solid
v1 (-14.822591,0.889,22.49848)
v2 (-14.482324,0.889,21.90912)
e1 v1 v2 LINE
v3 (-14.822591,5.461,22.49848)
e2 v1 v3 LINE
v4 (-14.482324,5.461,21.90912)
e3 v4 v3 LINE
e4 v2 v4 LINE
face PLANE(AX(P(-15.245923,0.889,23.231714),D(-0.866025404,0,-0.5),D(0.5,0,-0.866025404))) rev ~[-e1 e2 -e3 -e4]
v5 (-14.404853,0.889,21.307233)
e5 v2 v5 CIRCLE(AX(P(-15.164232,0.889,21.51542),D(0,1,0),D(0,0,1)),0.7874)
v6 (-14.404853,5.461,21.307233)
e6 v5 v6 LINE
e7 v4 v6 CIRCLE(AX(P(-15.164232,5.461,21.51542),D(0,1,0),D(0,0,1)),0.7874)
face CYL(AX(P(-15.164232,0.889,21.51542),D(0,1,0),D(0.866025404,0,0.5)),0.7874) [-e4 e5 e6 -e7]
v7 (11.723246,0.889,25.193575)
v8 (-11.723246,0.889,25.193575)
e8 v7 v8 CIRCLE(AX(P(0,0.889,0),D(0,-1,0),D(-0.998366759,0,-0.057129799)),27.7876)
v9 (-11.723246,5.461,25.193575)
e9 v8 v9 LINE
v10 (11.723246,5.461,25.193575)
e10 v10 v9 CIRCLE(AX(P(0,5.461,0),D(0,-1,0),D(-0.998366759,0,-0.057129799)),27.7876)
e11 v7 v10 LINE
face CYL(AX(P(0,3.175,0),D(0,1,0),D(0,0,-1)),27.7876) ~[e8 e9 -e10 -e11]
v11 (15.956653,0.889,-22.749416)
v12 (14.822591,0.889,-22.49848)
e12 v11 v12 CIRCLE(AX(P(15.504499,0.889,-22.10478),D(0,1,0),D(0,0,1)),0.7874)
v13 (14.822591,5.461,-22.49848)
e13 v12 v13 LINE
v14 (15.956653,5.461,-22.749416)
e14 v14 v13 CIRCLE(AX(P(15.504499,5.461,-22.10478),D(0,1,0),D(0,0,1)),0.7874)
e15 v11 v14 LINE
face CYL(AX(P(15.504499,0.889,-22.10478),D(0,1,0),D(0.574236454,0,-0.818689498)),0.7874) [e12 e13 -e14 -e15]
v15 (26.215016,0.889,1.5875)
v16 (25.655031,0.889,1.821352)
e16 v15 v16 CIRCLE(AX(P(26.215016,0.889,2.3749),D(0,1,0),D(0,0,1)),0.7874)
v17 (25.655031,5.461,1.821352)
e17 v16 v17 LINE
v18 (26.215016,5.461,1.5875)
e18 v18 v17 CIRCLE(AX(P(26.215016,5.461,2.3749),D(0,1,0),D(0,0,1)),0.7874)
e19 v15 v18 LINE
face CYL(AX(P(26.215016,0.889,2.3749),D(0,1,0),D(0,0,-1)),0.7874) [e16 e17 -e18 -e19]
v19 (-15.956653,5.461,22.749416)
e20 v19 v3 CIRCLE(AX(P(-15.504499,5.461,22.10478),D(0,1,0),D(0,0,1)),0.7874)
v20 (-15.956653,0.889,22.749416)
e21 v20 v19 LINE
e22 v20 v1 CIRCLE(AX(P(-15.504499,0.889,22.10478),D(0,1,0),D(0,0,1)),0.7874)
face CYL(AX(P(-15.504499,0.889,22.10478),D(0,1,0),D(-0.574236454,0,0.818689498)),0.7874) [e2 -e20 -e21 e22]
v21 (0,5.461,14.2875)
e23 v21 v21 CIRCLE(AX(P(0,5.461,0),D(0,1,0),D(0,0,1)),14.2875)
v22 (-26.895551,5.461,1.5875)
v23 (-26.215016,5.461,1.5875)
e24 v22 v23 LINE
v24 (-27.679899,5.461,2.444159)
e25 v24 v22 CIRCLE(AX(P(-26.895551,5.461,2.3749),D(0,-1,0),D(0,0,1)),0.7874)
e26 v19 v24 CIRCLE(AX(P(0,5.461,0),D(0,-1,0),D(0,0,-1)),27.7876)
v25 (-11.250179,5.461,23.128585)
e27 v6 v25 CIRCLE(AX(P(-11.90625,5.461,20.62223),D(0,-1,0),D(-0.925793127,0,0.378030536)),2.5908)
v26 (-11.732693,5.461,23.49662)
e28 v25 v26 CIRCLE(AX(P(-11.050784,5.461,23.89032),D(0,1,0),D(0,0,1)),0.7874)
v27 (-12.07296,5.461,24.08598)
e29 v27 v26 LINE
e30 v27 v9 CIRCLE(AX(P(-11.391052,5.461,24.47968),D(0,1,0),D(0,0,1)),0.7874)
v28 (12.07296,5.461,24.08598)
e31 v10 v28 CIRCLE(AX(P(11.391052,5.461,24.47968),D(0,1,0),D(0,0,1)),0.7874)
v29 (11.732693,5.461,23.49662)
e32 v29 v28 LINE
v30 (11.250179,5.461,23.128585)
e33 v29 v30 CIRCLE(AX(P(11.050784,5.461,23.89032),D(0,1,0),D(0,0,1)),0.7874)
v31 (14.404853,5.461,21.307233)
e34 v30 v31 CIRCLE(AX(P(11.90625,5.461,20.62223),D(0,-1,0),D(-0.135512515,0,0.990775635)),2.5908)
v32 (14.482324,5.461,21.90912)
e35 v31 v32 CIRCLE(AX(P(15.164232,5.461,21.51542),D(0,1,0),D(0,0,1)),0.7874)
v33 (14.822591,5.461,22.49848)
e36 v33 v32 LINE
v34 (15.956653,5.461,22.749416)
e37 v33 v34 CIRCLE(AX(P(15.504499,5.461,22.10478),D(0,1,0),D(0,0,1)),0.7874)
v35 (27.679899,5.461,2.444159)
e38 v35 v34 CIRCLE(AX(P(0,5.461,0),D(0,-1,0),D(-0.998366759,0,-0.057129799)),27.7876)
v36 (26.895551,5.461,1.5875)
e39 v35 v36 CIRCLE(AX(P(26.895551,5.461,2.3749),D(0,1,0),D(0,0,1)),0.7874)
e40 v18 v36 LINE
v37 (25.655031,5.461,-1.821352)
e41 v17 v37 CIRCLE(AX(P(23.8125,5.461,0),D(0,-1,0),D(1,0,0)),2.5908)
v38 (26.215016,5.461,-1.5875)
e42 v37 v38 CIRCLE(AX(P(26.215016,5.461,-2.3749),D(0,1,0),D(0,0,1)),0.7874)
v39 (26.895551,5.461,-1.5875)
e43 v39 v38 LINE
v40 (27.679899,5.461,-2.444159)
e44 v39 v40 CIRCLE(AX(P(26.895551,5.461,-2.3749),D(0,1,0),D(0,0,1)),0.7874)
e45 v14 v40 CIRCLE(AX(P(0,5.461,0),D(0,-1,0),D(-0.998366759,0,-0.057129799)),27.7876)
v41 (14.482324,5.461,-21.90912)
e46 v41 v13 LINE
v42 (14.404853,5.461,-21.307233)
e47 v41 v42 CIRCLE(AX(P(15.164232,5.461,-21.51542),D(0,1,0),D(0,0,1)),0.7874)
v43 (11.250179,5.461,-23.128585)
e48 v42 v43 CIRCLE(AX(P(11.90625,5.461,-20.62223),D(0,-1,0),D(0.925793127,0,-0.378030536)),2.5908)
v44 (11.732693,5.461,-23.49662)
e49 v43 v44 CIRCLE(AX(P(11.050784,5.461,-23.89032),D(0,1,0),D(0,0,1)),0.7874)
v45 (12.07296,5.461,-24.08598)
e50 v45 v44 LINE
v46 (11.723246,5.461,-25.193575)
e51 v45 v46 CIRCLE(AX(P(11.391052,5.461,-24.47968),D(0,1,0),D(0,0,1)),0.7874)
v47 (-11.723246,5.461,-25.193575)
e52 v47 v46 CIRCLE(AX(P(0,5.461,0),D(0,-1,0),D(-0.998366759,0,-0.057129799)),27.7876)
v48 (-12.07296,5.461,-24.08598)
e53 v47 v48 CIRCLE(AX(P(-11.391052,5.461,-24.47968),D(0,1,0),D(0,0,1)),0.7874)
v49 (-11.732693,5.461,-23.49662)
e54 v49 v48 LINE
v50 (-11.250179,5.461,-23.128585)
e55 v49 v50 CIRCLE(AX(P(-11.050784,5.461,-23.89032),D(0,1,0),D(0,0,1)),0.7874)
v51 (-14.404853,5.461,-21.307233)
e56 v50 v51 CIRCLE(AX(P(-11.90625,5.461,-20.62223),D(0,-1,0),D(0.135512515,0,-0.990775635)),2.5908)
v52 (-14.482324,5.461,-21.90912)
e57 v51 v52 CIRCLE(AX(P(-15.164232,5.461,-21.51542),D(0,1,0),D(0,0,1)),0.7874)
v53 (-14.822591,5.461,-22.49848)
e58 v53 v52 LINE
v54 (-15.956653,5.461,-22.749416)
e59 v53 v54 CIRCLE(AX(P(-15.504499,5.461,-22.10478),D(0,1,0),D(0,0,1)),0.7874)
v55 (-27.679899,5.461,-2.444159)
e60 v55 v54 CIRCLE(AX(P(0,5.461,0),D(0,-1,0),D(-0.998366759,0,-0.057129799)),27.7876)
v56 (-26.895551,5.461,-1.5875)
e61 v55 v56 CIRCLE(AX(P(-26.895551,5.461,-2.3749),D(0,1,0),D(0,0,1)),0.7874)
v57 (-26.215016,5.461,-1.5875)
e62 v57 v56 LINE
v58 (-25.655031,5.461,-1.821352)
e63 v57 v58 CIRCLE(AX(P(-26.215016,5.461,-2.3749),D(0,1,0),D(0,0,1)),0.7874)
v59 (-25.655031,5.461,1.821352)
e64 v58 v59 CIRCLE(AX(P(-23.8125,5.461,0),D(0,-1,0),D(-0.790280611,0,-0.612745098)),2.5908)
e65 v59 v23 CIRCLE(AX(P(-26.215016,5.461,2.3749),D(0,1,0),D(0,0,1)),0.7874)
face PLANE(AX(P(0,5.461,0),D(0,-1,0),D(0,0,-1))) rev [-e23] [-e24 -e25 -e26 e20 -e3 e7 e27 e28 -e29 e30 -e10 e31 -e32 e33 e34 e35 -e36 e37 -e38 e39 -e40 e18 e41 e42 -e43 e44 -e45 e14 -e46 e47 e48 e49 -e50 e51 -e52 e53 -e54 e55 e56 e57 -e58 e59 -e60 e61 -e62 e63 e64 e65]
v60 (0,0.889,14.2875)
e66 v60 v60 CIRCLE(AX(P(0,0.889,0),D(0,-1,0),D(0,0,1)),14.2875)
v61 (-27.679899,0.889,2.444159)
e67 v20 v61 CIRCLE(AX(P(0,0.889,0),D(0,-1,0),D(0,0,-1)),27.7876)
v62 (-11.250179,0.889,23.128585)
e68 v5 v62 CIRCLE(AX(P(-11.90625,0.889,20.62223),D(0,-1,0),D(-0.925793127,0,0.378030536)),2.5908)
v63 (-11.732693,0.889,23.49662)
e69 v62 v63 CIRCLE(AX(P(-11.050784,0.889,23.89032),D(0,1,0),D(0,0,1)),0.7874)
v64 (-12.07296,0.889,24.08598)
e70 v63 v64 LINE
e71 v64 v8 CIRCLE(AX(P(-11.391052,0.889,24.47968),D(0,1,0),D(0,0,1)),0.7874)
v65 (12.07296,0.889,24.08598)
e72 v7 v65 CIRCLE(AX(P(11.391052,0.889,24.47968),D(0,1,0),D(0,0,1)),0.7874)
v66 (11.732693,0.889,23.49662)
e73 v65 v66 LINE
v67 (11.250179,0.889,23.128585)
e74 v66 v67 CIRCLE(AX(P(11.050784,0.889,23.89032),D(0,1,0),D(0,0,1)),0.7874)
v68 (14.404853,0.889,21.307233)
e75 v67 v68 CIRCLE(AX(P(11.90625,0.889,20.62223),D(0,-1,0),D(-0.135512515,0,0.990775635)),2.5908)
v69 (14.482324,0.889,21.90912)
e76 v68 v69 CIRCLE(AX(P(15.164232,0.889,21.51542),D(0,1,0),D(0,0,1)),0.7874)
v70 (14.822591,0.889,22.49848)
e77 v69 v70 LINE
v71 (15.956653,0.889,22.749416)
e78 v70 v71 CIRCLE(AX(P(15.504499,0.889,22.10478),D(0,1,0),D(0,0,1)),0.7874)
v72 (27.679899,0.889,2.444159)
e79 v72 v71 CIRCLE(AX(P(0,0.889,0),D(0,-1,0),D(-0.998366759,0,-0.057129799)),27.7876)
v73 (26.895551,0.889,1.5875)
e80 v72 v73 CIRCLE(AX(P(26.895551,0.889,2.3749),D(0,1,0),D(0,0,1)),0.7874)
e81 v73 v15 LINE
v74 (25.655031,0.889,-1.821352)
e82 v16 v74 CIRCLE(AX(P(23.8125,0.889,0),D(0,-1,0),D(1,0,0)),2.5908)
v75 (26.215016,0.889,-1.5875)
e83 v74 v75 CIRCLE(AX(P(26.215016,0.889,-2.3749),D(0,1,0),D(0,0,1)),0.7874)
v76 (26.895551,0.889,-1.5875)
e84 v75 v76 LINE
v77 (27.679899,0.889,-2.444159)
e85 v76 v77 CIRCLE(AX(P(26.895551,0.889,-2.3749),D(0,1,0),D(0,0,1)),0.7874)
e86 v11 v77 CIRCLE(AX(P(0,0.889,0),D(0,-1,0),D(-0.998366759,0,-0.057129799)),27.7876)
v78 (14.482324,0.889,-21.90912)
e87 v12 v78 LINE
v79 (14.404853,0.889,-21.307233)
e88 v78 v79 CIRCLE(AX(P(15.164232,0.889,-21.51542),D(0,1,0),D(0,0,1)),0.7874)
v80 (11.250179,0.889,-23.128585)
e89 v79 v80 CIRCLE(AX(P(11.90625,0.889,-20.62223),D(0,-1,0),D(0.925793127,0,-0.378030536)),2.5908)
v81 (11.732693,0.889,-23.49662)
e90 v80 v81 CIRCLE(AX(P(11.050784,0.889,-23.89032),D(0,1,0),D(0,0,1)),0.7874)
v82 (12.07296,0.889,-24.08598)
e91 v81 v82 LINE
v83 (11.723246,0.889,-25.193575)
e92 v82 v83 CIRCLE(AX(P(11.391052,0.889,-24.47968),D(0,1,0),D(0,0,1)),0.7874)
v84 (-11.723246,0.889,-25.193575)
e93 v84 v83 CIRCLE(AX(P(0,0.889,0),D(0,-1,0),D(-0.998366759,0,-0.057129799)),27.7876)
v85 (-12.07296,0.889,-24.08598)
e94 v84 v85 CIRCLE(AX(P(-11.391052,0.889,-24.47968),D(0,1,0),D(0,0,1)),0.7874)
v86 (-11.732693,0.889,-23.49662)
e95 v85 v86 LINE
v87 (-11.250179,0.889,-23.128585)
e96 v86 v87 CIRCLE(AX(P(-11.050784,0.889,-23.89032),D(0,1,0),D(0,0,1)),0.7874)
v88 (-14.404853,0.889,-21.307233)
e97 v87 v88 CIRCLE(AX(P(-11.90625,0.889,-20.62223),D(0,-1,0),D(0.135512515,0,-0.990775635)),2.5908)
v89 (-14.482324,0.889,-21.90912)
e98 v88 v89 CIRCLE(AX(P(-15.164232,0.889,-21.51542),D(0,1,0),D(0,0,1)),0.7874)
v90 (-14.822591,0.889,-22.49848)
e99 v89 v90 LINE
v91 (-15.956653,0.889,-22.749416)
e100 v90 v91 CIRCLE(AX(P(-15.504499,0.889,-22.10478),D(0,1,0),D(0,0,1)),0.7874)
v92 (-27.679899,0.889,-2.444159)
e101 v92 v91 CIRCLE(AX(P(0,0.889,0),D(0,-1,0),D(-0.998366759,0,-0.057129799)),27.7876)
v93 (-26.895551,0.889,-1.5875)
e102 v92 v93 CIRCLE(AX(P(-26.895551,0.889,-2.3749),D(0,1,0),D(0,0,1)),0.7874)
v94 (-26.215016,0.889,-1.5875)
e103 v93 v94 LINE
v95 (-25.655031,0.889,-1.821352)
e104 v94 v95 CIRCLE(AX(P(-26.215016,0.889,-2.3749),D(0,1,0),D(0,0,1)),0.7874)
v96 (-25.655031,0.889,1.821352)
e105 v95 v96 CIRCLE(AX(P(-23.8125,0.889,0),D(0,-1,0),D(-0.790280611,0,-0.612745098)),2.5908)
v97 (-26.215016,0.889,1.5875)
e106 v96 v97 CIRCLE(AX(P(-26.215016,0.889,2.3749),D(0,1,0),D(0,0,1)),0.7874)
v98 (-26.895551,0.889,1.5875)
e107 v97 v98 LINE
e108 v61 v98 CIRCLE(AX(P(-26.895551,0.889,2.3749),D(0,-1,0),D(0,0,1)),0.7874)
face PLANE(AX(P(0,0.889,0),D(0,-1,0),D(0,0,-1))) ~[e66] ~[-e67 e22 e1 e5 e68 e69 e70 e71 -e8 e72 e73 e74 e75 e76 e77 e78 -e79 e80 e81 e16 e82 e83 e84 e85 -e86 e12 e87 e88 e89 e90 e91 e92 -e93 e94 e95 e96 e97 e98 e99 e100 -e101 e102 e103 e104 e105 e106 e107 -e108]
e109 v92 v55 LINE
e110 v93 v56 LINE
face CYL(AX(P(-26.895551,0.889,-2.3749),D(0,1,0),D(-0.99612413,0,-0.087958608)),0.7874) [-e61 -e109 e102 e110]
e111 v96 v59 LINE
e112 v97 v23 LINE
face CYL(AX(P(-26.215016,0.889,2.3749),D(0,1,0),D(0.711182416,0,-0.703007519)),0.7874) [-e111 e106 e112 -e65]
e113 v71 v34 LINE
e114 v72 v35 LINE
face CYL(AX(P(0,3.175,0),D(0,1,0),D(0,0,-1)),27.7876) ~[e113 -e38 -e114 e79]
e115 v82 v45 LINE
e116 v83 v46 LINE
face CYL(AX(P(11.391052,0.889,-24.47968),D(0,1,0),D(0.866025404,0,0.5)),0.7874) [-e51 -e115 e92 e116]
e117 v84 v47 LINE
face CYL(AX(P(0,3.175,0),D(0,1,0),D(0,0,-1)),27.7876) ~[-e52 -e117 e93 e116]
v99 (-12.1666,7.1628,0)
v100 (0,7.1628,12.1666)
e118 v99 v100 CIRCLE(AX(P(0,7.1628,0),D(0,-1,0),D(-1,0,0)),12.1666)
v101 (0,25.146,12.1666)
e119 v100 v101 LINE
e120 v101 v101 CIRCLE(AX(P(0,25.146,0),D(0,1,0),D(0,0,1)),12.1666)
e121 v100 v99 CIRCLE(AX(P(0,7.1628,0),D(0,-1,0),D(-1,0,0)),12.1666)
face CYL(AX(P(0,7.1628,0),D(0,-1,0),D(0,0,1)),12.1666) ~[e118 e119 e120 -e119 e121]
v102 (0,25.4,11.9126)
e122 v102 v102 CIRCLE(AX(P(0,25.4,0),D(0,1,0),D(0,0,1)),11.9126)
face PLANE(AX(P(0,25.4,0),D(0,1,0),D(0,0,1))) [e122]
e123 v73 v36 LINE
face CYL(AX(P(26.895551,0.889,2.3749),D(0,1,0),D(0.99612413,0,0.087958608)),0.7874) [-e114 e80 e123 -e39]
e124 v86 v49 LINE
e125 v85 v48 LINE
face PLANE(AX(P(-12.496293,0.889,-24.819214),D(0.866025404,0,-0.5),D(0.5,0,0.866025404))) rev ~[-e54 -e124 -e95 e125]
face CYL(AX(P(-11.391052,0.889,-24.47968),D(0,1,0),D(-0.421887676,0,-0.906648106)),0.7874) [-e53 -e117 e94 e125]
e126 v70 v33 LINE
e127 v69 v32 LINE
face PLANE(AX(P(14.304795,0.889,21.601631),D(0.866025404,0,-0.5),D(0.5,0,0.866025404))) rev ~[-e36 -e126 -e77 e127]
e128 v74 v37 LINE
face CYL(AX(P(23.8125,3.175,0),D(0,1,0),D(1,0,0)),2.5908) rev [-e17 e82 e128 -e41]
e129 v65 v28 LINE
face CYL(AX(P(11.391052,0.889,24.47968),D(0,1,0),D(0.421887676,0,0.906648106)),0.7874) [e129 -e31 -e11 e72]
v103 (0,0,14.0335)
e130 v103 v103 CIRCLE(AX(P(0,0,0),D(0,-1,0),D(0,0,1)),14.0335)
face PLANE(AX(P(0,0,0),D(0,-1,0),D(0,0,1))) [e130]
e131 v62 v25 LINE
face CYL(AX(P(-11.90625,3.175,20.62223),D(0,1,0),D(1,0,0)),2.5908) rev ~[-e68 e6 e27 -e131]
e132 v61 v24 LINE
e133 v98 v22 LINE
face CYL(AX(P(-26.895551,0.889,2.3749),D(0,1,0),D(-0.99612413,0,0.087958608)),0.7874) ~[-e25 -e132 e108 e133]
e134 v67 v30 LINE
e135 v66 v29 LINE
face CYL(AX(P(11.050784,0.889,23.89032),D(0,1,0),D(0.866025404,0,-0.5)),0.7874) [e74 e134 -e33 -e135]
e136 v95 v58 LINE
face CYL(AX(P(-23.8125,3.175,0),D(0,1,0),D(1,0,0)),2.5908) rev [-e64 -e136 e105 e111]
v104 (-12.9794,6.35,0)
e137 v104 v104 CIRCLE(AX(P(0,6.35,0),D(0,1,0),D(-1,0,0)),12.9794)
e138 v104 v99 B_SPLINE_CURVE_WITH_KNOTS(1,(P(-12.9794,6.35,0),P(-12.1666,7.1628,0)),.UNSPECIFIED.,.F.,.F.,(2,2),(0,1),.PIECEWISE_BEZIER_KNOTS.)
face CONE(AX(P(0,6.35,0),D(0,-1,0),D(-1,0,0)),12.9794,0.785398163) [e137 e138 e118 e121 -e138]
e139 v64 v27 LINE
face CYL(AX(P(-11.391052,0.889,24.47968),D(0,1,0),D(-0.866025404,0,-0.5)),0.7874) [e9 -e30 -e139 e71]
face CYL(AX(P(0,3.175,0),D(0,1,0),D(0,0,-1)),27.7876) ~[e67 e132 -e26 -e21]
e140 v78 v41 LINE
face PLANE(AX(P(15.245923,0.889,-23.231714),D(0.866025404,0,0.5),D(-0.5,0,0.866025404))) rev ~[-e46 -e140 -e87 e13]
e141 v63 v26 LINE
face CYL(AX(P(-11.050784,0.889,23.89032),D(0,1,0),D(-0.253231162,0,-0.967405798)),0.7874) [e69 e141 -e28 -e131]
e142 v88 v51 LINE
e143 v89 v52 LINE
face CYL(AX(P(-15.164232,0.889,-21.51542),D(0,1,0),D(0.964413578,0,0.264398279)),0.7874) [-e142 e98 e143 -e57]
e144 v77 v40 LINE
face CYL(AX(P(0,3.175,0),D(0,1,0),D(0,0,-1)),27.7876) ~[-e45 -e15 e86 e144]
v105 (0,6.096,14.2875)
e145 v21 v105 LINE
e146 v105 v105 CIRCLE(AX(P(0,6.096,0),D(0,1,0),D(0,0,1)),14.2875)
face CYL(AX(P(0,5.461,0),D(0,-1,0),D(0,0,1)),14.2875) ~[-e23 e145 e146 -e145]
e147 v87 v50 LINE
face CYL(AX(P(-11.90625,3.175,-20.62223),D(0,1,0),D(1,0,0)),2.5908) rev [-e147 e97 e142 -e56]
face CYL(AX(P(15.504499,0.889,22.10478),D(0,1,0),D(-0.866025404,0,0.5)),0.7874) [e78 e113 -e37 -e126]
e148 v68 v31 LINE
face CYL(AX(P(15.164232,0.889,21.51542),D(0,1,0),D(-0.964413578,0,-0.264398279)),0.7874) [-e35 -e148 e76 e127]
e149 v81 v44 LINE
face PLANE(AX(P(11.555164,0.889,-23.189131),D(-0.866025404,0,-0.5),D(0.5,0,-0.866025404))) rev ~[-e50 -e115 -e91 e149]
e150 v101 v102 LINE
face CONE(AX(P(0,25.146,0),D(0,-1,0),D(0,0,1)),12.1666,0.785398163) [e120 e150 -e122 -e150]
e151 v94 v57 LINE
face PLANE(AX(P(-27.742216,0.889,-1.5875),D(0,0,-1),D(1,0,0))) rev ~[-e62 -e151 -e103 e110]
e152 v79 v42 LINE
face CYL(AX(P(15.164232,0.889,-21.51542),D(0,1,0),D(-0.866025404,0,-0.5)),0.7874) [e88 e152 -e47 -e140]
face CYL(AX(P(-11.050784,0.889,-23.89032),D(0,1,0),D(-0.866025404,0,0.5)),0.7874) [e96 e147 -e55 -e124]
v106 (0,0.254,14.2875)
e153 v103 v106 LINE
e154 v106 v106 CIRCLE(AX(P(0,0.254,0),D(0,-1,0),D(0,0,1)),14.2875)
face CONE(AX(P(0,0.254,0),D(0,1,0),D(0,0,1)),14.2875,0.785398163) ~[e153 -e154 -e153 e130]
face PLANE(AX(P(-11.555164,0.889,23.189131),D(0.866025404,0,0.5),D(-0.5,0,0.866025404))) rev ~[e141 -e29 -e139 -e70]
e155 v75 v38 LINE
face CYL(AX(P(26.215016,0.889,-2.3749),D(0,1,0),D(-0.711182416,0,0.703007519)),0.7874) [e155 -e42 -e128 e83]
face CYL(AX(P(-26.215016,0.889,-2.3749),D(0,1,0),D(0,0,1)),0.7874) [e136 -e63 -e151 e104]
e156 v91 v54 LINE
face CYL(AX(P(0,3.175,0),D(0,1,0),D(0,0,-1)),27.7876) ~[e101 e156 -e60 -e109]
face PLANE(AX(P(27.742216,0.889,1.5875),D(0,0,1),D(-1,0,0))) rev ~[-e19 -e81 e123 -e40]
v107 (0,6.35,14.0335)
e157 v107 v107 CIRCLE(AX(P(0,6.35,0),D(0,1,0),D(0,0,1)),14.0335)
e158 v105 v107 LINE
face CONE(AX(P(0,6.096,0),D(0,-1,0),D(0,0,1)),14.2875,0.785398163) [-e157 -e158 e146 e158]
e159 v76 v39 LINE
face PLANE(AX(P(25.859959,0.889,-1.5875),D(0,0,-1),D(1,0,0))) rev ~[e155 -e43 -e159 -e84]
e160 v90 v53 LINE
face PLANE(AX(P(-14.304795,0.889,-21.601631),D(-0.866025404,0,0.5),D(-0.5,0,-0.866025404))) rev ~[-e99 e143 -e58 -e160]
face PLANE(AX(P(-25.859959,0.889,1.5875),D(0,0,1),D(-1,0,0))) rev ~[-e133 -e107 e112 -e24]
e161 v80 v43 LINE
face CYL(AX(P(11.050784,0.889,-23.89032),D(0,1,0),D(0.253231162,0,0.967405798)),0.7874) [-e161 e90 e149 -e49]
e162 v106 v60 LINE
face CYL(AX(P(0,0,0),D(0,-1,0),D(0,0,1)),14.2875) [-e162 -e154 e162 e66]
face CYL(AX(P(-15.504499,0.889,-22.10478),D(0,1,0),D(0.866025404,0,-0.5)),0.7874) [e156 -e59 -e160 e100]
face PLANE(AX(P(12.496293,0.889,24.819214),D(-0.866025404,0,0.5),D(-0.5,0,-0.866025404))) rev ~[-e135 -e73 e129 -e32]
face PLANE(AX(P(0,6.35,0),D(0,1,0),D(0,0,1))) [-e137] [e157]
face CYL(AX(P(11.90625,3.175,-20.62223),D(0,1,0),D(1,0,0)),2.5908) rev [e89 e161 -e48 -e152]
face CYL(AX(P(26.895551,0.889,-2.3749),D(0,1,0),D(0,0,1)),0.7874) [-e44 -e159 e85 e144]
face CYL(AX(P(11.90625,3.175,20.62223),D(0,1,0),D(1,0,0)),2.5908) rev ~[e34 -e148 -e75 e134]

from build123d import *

# Parameters (mm, degrees)
SKETCH1_W           = 27.7876
SKETCH1_H           = 4.572
CUT_EXTRUDE1_DEPTH  = 40.562666891
CUT_EXTRUDE2_DEPTH  = 40.562666891
CUT_EXTRUDE3_DEPTH  = 40.562666891
CUT_EXTRUDE4_DEPTH  = 40.562666891
CUT_EXTRUDE5_DEPTH  = 40.530803878
CUT_EXTRUDE6_DEPTH  = 40.530803878
SKETCH8_R           = 14.2875
BOSS_EXTRUDE1_DEPTH = 0.889
SKETCH9_R           = 12.9794
BOSS_EXTRUDE2_DEPTH = 0.8128
BOSS_EXTRUDE2_TAPER = 45
SKETCH10_R          = 12.1666
BOSS_EXTRUDE3_DEPTH = 18.2372
BOSS_EXTRUDE4_START = 0.889
SKETCH11_R          = 14.2875
BOSS_EXTRUDE4_DEPTH = 0.889
CUT_EXTRUDE7_DEPTH  = 47.764743892
SKETCH13_W          = 2.5908
SKETCH13_H          = 4.572
SKETCH14_W          = 2.5908
SKETCH14_H          = 4.572
SKETCH15_W          = 2.5908
SKETCH15_H          = 4.572
SKETCH16_W          = 2.5908
SKETCH16_H          = 4.572
SKETCH17_W          = 2.5908
SKETCH17_H          = 4.572
SKETCH18_W          = 2.5908
SKETCH18_H          = 4.572
CHAMFER1_SIZE       = 0.254
FILLET1_R           = 0.127
FILLET2_R           = 0.7874
SKETCH19_R          = 9.350419414
BOSS_EXTRUDE7_DEPTH = 25.4


with BuildPart() as part:
    # Sketch1 → Revolve1 (revolve)
    with BuildSketch(Plane.XY, mode=Mode.PRIVATE) as revolve1_sk:
        with Locations((13.8938, 3.175)):
            Rectangle(SKETCH1_W, SKETCH1_H)
    revolve(revolve1_sk.sketch.rotate(Axis((0, 5.461, 0), (0, -1, 0)), 270), axis=Axis((0, 5.461, 0), (0, -1, 0)))

    # Sketch2 → Cut-Extrude1 (cut, through all)
    with BuildSketch(Plane.XZ.offset(-0.889)):
        with BuildLine():
            Line((-27.742216161, -1.5875), (-25.859959008, -1.5875))
            ThreePointArc((-25.859959008, -1.5875), (-26.4033, 0), (-25.859959008, 1.5875))
            Line((-25.859959008, 1.5875), (-27.742216161, 1.5875))
            ThreePointArc((-27.742216161, 1.5875), (-27.7876, 0), (-27.742216161, -1.5875))
        make_face()
    extrude(amount=-CUT_EXTRUDE1_DEPTH, mode=Mode.SUBTRACT)

    # Sketch3 → Cut-Extrude2 (cut, through all)
    with BuildSketch(Plane.XZ.offset(-0.889)):
        with BuildLine():
            Line((-15.245923409, 23.231713952), (-14.304794833, 21.601631442))
            ThreePointArc((-14.304794833, 21.601631442), (-13.20165, 22.865928544), (-11.555164176, 23.189131442))
            Line((-11.555164176, 23.189131442), (-12.496292752, 24.819213952))
            ThreePointArc((-12.496292752, 24.819213952), (-13.8938, 24.06476751), (-15.245923409, 23.231713952))
        make_face()
    extrude(amount=-CUT_EXTRUDE2_DEPTH, mode=Mode.SUBTRACT)

    # Sketch4 → Cut-Extrude3 (cut, through all)
    with BuildSketch(Plane.XZ.offset(-0.889)):
        with BuildLine():
            Line((12.496292752, 24.819213952), (11.555164176, 23.189131442))
            ThreePointArc((11.555164176, 23.189131442), (13.20165, 22.865928544), (14.304794833, 21.601631442))
            Line((14.304794833, 21.601631442), (15.245923409, 23.231713952))
            ThreePointArc((15.245923409, 23.231713952), (13.8938, 24.06476751), (12.496292752, 24.819213952))
        make_face()
    extrude(amount=-CUT_EXTRUDE3_DEPTH, mode=Mode.SUBTRACT)

    # Sketch5 → Cut-Extrude4 (cut, through all)
    with BuildSketch(Plane.XZ.offset(-0.889)):
        with BuildLine():
            Line((27.742216161, 1.5875), (25.859959008, 1.5875))
            ThreePointArc((25.859959008, 1.5875), (26.4033, 0), (25.859959008, -1.5875))
            Line((25.859959008, -1.5875), (27.742216161, -1.5875))
            ThreePointArc((27.742216161, -1.5875), (27.7876, 0), (27.742216161, 1.5875))
        make_face()
    extrude(amount=-CUT_EXTRUDE4_DEPTH, mode=Mode.SUBTRACT)

    # Sketch6 → Cut-Extrude5 (cut, through all)
    with BuildSketch(Plane.XZ.offset(-0.889)):
        with BuildLine():
            Line((15.245923409, -23.231713952), (14.304794833, -21.601631442))
            ThreePointArc((14.304794833, -21.601631442), (13.20165, -22.865928544), (11.555164176, -23.189131442))
            Line((11.555164176, -23.189131442), (12.496292752, -24.819213952))
            ThreePointArc((12.496292752, -24.819213952), (13.8938, -24.06476751), (15.245923409, -23.231713952))
        make_face()
    extrude(amount=-CUT_EXTRUDE5_DEPTH, mode=Mode.SUBTRACT)

    # Sketch7 → Cut-Extrude6 (cut, through all)
    with BuildSketch(Plane.XZ.offset(-0.889)):
        with BuildLine():
            Line((-12.496292752, -24.819213952), (-11.555164176, -23.189131442))
            ThreePointArc((-11.555164176, -23.189131442), (-13.20165, -22.865928544), (-14.304794833, -21.601631442))
            Line((-14.304794833, -21.601631442), (-15.245923409, -23.231713952))
            ThreePointArc((-15.245923409, -23.231713952), (-13.8938, -24.06476751), (-12.496292752, -24.819213952))
        make_face()
    extrude(amount=-CUT_EXTRUDE6_DEPTH, mode=Mode.SUBTRACT)

    # Sketch8 → Boss-Extrude1 (add)
    with BuildSketch(Plane(origin=(0, 5.461, 0), x_dir=(-1, 0, 0), z_dir=(0, 1, 0))):
        with Locations(Location((0, 0, 0), (0, 0, 90))):
            Circle(SKETCH8_R)
    extrude(amount=BOSS_EXTRUDE1_DEPTH)

    # Sketch9 → Boss-Extrude2 (add)
    with BuildSketch(Plane(origin=(0, 6.35, 0), x_dir=(-1, 0, 0), z_dir=(0, 1, 0))):
        Circle(SKETCH9_R)
    extrude(amount=BOSS_EXTRUDE2_DEPTH, taper=BOSS_EXTRUDE2_TAPER)

    # Sketch10 → Boss-Extrude3 (add)
    with BuildSketch(Plane(origin=(0, 7.1628, 0), x_dir=(-1, 0, 0), z_dir=(0, 1, 0))):
        with Locations(Location((0, 0, 0), (0, 0, 90))):
            Circle(SKETCH10_R)
    extrude(amount=BOSS_EXTRUDE3_DEPTH)

    # Sketch11 → Boss-Extrude4 (add)
    with BuildSketch(Plane.XZ.offset(-0.889).offset(BOSS_EXTRUDE4_START)):
        with Locations(Location((0, 0, 0), (0, 0, 90))):
            Circle(SKETCH11_R)
    extrude(amount=-BOSS_EXTRUDE4_DEPTH)

    # Sketch12 → Cut-Extrude7 (cut, through all)
    with BuildSketch(Plane.XZ):
        with BuildLine():
            Line((-8.0518, -1.65735), (-6.248228986, -1.65735))
            ThreePointArc((-6.248228986, -1.65735), (0, -6.4643), (6.248228986, -1.65735))
            Line((6.248228986, -1.65735), (8.0518, -1.65735))
            Line((8.0518, -1.65735), (8.0518, 1.65735))
            Line((8.0518, 1.65735), (6.248228986, 1.65735))
            ThreePointArc((6.248228986, 1.65735), (0, 6.4643), (-6.248228986, 1.65735))
            Line((-6.248228986, 1.65735), (-8.0518, 1.65735))
            Line((-8.0518, 1.65735), (-8.0518, -1.65735))
        make_face()
    extrude(amount=-CUT_EXTRUDE7_DEPTH, mode=Mode.SUBTRACT)

    # Sketch13 → Cut-Revolve1 (revolve, cut)
    with BuildSketch(Plane.XY):
        with Locations((-22.5171, 3.175)):
            Rectangle(SKETCH13_W, SKETCH13_H)
    revolve(axis=Axis((-23.8125, 5.461, 0), (0, -1, 0)), mode=Mode.SUBTRACT)

    # Sketch14 → Cut-Revolve2 (revolve, cut)
    with BuildSketch(Plane(origin=(0, 0, 20.622229928), x_dir=(-1, 0, 0), z_dir=(0, 0, -1))):
        with Locations((10.61085, 3.175)):
            Rectangle(SKETCH14_W, SKETCH14_H)
    revolve(axis=Axis((-11.90625, 0.889, 20.622229928), (0, 1, 0)), mode=Mode.SUBTRACT)

    # Sketch15 → Cut-Revolve3 (revolve, cut)
    with BuildSketch(Plane(origin=(0, 0, 20.622229928), x_dir=(-1, 0, 0), z_dir=(0, 0, -1))):
        with Locations((-13.20165, 3.175)):
            Rectangle(SKETCH15_W, SKETCH15_H)
    revolve(axis=Axis((11.90625, 0.889, 20.622229928), (0, 1, 0)), mode=Mode.SUBTRACT)

    # Sketch16 → Cut-Revolve4 (revolve, cut)
    with BuildSketch(Plane.XY):
        with Locations((25.1079, 3.175)):
            Rectangle(SKETCH16_W, SKETCH16_H)
    revolve(axis=Axis((23.8125, 5.461, 0), (0, -1, 0)), mode=Mode.SUBTRACT)

    # Sketch17 → Cut-Revolve5 (revolve, cut)
    with BuildSketch(Plane.XY.offset(-20.622229928)):
        with Locations((13.20165, 3.175)):
            Rectangle(SKETCH17_W, SKETCH17_H)
    revolve(axis=Axis((11.90625, 5.461, -20.622229928), (0, -1, 0)), mode=Mode.SUBTRACT)

    # Sketch18 → Cut-Revolve6 (revolve, cut)
    with BuildSketch(Plane.XY.offset(-20.622229928)):
        with Locations((-10.61085, 3.175)):
            Rectangle(SKETCH18_W, SKETCH18_H)
    revolve(axis=Axis((-11.90625, 5.461, -20.622229928), (0, -1, 0)), mode=Mode.SUBTRACT)

    # Chamfer1
    chamfer1_edges = [part.edges().sort_by_distance(p)[0] for p in [
        (0, 6.35, -14.2875),
        (0, 25.4, -12.1666),
        (0, 0, -14.2875),
        (0, 25.4, 6.4643),
        (0, 25.4, -6.4643),
        (0, 0, -6.4643),
        (0, 0, 6.4643),
    ]]
    chamfer(chamfer1_edges, length=CHAMFER1_SIZE)

    # Fillet1
    fillet1_edges = [part.edges().sort_by_distance(p)[0] for p in [
        (-6.248228986, 12.7, 1.65735),
        (-8.0518, 12.7, 1.65735),
        (-8.0518, 12.7, -1.65735),
        (6.248228986, 12.7, 1.65735),
        (-6.248228986, 12.7, -1.65735),
        (8.0518, 12.7, 1.65735),
        (8.0518, 12.7, -1.65735),
        (6.248228986, 12.7, -1.65735),
    ]]
    fillet(fillet1_edges, radius=FILLET1_R)

    # Fillet2
    fillet2_edges = [part.edges().sort_by_distance(p)[0] for p in [
        (-27.742216161, 3.175, -1.5875),
        (-27.742216161, 3.175, 1.5875),
        (-25.859959008, 3.175, 1.5875),
        (-25.859959008, 3.175, -1.5875),
        (-15.245923409, 3.175, 23.231713952),
        (-12.496292752, 3.175, 24.819213952),
        (-11.555164176, 3.175, 23.189131442),
        (-14.304794833, 3.175, 21.601631442),
        (12.496292752, 3.175, 24.819213952),
        (15.245923409, 3.175, 23.231713952),
        (14.304794833, 3.175, 21.601631442),
        (11.555164176, 3.175, 23.189131442),
        (27.742216161, 3.175, 1.5875),
        (27.742216161, 3.175, -1.5875),
        (25.859959008, 3.175, -1.5875),
        (25.859959008, 3.175, 1.5875),
        (15.245923409, 3.175, -23.231713952),
        (12.496292752, 3.175, -24.819213952),
        (11.555164176, 3.175, -23.189131442),
        (14.304794833, 3.175, -21.601631442),
        (-12.496292752, 3.175, -24.819213952),
        (-15.245923409, 3.175, -23.231713952),
        (-14.304794833, 3.175, -21.601631442),
        (-11.555164176, 3.175, -23.189131442),
    ]]
    fillet(fillet2_edges, radius=FILLET2_R)

    # Sketch19 → Boss-Extrude7 (add)
    with BuildSketch(Plane(origin=(0, 25.4, 0), x_dir=(1, 0, 0), z_dir=(0, 1, 0))):
        Circle(SKETCH19_R)
    extrude(amount=-BOSS_EXTRUDE7_DEPTH)


solid = part.part
